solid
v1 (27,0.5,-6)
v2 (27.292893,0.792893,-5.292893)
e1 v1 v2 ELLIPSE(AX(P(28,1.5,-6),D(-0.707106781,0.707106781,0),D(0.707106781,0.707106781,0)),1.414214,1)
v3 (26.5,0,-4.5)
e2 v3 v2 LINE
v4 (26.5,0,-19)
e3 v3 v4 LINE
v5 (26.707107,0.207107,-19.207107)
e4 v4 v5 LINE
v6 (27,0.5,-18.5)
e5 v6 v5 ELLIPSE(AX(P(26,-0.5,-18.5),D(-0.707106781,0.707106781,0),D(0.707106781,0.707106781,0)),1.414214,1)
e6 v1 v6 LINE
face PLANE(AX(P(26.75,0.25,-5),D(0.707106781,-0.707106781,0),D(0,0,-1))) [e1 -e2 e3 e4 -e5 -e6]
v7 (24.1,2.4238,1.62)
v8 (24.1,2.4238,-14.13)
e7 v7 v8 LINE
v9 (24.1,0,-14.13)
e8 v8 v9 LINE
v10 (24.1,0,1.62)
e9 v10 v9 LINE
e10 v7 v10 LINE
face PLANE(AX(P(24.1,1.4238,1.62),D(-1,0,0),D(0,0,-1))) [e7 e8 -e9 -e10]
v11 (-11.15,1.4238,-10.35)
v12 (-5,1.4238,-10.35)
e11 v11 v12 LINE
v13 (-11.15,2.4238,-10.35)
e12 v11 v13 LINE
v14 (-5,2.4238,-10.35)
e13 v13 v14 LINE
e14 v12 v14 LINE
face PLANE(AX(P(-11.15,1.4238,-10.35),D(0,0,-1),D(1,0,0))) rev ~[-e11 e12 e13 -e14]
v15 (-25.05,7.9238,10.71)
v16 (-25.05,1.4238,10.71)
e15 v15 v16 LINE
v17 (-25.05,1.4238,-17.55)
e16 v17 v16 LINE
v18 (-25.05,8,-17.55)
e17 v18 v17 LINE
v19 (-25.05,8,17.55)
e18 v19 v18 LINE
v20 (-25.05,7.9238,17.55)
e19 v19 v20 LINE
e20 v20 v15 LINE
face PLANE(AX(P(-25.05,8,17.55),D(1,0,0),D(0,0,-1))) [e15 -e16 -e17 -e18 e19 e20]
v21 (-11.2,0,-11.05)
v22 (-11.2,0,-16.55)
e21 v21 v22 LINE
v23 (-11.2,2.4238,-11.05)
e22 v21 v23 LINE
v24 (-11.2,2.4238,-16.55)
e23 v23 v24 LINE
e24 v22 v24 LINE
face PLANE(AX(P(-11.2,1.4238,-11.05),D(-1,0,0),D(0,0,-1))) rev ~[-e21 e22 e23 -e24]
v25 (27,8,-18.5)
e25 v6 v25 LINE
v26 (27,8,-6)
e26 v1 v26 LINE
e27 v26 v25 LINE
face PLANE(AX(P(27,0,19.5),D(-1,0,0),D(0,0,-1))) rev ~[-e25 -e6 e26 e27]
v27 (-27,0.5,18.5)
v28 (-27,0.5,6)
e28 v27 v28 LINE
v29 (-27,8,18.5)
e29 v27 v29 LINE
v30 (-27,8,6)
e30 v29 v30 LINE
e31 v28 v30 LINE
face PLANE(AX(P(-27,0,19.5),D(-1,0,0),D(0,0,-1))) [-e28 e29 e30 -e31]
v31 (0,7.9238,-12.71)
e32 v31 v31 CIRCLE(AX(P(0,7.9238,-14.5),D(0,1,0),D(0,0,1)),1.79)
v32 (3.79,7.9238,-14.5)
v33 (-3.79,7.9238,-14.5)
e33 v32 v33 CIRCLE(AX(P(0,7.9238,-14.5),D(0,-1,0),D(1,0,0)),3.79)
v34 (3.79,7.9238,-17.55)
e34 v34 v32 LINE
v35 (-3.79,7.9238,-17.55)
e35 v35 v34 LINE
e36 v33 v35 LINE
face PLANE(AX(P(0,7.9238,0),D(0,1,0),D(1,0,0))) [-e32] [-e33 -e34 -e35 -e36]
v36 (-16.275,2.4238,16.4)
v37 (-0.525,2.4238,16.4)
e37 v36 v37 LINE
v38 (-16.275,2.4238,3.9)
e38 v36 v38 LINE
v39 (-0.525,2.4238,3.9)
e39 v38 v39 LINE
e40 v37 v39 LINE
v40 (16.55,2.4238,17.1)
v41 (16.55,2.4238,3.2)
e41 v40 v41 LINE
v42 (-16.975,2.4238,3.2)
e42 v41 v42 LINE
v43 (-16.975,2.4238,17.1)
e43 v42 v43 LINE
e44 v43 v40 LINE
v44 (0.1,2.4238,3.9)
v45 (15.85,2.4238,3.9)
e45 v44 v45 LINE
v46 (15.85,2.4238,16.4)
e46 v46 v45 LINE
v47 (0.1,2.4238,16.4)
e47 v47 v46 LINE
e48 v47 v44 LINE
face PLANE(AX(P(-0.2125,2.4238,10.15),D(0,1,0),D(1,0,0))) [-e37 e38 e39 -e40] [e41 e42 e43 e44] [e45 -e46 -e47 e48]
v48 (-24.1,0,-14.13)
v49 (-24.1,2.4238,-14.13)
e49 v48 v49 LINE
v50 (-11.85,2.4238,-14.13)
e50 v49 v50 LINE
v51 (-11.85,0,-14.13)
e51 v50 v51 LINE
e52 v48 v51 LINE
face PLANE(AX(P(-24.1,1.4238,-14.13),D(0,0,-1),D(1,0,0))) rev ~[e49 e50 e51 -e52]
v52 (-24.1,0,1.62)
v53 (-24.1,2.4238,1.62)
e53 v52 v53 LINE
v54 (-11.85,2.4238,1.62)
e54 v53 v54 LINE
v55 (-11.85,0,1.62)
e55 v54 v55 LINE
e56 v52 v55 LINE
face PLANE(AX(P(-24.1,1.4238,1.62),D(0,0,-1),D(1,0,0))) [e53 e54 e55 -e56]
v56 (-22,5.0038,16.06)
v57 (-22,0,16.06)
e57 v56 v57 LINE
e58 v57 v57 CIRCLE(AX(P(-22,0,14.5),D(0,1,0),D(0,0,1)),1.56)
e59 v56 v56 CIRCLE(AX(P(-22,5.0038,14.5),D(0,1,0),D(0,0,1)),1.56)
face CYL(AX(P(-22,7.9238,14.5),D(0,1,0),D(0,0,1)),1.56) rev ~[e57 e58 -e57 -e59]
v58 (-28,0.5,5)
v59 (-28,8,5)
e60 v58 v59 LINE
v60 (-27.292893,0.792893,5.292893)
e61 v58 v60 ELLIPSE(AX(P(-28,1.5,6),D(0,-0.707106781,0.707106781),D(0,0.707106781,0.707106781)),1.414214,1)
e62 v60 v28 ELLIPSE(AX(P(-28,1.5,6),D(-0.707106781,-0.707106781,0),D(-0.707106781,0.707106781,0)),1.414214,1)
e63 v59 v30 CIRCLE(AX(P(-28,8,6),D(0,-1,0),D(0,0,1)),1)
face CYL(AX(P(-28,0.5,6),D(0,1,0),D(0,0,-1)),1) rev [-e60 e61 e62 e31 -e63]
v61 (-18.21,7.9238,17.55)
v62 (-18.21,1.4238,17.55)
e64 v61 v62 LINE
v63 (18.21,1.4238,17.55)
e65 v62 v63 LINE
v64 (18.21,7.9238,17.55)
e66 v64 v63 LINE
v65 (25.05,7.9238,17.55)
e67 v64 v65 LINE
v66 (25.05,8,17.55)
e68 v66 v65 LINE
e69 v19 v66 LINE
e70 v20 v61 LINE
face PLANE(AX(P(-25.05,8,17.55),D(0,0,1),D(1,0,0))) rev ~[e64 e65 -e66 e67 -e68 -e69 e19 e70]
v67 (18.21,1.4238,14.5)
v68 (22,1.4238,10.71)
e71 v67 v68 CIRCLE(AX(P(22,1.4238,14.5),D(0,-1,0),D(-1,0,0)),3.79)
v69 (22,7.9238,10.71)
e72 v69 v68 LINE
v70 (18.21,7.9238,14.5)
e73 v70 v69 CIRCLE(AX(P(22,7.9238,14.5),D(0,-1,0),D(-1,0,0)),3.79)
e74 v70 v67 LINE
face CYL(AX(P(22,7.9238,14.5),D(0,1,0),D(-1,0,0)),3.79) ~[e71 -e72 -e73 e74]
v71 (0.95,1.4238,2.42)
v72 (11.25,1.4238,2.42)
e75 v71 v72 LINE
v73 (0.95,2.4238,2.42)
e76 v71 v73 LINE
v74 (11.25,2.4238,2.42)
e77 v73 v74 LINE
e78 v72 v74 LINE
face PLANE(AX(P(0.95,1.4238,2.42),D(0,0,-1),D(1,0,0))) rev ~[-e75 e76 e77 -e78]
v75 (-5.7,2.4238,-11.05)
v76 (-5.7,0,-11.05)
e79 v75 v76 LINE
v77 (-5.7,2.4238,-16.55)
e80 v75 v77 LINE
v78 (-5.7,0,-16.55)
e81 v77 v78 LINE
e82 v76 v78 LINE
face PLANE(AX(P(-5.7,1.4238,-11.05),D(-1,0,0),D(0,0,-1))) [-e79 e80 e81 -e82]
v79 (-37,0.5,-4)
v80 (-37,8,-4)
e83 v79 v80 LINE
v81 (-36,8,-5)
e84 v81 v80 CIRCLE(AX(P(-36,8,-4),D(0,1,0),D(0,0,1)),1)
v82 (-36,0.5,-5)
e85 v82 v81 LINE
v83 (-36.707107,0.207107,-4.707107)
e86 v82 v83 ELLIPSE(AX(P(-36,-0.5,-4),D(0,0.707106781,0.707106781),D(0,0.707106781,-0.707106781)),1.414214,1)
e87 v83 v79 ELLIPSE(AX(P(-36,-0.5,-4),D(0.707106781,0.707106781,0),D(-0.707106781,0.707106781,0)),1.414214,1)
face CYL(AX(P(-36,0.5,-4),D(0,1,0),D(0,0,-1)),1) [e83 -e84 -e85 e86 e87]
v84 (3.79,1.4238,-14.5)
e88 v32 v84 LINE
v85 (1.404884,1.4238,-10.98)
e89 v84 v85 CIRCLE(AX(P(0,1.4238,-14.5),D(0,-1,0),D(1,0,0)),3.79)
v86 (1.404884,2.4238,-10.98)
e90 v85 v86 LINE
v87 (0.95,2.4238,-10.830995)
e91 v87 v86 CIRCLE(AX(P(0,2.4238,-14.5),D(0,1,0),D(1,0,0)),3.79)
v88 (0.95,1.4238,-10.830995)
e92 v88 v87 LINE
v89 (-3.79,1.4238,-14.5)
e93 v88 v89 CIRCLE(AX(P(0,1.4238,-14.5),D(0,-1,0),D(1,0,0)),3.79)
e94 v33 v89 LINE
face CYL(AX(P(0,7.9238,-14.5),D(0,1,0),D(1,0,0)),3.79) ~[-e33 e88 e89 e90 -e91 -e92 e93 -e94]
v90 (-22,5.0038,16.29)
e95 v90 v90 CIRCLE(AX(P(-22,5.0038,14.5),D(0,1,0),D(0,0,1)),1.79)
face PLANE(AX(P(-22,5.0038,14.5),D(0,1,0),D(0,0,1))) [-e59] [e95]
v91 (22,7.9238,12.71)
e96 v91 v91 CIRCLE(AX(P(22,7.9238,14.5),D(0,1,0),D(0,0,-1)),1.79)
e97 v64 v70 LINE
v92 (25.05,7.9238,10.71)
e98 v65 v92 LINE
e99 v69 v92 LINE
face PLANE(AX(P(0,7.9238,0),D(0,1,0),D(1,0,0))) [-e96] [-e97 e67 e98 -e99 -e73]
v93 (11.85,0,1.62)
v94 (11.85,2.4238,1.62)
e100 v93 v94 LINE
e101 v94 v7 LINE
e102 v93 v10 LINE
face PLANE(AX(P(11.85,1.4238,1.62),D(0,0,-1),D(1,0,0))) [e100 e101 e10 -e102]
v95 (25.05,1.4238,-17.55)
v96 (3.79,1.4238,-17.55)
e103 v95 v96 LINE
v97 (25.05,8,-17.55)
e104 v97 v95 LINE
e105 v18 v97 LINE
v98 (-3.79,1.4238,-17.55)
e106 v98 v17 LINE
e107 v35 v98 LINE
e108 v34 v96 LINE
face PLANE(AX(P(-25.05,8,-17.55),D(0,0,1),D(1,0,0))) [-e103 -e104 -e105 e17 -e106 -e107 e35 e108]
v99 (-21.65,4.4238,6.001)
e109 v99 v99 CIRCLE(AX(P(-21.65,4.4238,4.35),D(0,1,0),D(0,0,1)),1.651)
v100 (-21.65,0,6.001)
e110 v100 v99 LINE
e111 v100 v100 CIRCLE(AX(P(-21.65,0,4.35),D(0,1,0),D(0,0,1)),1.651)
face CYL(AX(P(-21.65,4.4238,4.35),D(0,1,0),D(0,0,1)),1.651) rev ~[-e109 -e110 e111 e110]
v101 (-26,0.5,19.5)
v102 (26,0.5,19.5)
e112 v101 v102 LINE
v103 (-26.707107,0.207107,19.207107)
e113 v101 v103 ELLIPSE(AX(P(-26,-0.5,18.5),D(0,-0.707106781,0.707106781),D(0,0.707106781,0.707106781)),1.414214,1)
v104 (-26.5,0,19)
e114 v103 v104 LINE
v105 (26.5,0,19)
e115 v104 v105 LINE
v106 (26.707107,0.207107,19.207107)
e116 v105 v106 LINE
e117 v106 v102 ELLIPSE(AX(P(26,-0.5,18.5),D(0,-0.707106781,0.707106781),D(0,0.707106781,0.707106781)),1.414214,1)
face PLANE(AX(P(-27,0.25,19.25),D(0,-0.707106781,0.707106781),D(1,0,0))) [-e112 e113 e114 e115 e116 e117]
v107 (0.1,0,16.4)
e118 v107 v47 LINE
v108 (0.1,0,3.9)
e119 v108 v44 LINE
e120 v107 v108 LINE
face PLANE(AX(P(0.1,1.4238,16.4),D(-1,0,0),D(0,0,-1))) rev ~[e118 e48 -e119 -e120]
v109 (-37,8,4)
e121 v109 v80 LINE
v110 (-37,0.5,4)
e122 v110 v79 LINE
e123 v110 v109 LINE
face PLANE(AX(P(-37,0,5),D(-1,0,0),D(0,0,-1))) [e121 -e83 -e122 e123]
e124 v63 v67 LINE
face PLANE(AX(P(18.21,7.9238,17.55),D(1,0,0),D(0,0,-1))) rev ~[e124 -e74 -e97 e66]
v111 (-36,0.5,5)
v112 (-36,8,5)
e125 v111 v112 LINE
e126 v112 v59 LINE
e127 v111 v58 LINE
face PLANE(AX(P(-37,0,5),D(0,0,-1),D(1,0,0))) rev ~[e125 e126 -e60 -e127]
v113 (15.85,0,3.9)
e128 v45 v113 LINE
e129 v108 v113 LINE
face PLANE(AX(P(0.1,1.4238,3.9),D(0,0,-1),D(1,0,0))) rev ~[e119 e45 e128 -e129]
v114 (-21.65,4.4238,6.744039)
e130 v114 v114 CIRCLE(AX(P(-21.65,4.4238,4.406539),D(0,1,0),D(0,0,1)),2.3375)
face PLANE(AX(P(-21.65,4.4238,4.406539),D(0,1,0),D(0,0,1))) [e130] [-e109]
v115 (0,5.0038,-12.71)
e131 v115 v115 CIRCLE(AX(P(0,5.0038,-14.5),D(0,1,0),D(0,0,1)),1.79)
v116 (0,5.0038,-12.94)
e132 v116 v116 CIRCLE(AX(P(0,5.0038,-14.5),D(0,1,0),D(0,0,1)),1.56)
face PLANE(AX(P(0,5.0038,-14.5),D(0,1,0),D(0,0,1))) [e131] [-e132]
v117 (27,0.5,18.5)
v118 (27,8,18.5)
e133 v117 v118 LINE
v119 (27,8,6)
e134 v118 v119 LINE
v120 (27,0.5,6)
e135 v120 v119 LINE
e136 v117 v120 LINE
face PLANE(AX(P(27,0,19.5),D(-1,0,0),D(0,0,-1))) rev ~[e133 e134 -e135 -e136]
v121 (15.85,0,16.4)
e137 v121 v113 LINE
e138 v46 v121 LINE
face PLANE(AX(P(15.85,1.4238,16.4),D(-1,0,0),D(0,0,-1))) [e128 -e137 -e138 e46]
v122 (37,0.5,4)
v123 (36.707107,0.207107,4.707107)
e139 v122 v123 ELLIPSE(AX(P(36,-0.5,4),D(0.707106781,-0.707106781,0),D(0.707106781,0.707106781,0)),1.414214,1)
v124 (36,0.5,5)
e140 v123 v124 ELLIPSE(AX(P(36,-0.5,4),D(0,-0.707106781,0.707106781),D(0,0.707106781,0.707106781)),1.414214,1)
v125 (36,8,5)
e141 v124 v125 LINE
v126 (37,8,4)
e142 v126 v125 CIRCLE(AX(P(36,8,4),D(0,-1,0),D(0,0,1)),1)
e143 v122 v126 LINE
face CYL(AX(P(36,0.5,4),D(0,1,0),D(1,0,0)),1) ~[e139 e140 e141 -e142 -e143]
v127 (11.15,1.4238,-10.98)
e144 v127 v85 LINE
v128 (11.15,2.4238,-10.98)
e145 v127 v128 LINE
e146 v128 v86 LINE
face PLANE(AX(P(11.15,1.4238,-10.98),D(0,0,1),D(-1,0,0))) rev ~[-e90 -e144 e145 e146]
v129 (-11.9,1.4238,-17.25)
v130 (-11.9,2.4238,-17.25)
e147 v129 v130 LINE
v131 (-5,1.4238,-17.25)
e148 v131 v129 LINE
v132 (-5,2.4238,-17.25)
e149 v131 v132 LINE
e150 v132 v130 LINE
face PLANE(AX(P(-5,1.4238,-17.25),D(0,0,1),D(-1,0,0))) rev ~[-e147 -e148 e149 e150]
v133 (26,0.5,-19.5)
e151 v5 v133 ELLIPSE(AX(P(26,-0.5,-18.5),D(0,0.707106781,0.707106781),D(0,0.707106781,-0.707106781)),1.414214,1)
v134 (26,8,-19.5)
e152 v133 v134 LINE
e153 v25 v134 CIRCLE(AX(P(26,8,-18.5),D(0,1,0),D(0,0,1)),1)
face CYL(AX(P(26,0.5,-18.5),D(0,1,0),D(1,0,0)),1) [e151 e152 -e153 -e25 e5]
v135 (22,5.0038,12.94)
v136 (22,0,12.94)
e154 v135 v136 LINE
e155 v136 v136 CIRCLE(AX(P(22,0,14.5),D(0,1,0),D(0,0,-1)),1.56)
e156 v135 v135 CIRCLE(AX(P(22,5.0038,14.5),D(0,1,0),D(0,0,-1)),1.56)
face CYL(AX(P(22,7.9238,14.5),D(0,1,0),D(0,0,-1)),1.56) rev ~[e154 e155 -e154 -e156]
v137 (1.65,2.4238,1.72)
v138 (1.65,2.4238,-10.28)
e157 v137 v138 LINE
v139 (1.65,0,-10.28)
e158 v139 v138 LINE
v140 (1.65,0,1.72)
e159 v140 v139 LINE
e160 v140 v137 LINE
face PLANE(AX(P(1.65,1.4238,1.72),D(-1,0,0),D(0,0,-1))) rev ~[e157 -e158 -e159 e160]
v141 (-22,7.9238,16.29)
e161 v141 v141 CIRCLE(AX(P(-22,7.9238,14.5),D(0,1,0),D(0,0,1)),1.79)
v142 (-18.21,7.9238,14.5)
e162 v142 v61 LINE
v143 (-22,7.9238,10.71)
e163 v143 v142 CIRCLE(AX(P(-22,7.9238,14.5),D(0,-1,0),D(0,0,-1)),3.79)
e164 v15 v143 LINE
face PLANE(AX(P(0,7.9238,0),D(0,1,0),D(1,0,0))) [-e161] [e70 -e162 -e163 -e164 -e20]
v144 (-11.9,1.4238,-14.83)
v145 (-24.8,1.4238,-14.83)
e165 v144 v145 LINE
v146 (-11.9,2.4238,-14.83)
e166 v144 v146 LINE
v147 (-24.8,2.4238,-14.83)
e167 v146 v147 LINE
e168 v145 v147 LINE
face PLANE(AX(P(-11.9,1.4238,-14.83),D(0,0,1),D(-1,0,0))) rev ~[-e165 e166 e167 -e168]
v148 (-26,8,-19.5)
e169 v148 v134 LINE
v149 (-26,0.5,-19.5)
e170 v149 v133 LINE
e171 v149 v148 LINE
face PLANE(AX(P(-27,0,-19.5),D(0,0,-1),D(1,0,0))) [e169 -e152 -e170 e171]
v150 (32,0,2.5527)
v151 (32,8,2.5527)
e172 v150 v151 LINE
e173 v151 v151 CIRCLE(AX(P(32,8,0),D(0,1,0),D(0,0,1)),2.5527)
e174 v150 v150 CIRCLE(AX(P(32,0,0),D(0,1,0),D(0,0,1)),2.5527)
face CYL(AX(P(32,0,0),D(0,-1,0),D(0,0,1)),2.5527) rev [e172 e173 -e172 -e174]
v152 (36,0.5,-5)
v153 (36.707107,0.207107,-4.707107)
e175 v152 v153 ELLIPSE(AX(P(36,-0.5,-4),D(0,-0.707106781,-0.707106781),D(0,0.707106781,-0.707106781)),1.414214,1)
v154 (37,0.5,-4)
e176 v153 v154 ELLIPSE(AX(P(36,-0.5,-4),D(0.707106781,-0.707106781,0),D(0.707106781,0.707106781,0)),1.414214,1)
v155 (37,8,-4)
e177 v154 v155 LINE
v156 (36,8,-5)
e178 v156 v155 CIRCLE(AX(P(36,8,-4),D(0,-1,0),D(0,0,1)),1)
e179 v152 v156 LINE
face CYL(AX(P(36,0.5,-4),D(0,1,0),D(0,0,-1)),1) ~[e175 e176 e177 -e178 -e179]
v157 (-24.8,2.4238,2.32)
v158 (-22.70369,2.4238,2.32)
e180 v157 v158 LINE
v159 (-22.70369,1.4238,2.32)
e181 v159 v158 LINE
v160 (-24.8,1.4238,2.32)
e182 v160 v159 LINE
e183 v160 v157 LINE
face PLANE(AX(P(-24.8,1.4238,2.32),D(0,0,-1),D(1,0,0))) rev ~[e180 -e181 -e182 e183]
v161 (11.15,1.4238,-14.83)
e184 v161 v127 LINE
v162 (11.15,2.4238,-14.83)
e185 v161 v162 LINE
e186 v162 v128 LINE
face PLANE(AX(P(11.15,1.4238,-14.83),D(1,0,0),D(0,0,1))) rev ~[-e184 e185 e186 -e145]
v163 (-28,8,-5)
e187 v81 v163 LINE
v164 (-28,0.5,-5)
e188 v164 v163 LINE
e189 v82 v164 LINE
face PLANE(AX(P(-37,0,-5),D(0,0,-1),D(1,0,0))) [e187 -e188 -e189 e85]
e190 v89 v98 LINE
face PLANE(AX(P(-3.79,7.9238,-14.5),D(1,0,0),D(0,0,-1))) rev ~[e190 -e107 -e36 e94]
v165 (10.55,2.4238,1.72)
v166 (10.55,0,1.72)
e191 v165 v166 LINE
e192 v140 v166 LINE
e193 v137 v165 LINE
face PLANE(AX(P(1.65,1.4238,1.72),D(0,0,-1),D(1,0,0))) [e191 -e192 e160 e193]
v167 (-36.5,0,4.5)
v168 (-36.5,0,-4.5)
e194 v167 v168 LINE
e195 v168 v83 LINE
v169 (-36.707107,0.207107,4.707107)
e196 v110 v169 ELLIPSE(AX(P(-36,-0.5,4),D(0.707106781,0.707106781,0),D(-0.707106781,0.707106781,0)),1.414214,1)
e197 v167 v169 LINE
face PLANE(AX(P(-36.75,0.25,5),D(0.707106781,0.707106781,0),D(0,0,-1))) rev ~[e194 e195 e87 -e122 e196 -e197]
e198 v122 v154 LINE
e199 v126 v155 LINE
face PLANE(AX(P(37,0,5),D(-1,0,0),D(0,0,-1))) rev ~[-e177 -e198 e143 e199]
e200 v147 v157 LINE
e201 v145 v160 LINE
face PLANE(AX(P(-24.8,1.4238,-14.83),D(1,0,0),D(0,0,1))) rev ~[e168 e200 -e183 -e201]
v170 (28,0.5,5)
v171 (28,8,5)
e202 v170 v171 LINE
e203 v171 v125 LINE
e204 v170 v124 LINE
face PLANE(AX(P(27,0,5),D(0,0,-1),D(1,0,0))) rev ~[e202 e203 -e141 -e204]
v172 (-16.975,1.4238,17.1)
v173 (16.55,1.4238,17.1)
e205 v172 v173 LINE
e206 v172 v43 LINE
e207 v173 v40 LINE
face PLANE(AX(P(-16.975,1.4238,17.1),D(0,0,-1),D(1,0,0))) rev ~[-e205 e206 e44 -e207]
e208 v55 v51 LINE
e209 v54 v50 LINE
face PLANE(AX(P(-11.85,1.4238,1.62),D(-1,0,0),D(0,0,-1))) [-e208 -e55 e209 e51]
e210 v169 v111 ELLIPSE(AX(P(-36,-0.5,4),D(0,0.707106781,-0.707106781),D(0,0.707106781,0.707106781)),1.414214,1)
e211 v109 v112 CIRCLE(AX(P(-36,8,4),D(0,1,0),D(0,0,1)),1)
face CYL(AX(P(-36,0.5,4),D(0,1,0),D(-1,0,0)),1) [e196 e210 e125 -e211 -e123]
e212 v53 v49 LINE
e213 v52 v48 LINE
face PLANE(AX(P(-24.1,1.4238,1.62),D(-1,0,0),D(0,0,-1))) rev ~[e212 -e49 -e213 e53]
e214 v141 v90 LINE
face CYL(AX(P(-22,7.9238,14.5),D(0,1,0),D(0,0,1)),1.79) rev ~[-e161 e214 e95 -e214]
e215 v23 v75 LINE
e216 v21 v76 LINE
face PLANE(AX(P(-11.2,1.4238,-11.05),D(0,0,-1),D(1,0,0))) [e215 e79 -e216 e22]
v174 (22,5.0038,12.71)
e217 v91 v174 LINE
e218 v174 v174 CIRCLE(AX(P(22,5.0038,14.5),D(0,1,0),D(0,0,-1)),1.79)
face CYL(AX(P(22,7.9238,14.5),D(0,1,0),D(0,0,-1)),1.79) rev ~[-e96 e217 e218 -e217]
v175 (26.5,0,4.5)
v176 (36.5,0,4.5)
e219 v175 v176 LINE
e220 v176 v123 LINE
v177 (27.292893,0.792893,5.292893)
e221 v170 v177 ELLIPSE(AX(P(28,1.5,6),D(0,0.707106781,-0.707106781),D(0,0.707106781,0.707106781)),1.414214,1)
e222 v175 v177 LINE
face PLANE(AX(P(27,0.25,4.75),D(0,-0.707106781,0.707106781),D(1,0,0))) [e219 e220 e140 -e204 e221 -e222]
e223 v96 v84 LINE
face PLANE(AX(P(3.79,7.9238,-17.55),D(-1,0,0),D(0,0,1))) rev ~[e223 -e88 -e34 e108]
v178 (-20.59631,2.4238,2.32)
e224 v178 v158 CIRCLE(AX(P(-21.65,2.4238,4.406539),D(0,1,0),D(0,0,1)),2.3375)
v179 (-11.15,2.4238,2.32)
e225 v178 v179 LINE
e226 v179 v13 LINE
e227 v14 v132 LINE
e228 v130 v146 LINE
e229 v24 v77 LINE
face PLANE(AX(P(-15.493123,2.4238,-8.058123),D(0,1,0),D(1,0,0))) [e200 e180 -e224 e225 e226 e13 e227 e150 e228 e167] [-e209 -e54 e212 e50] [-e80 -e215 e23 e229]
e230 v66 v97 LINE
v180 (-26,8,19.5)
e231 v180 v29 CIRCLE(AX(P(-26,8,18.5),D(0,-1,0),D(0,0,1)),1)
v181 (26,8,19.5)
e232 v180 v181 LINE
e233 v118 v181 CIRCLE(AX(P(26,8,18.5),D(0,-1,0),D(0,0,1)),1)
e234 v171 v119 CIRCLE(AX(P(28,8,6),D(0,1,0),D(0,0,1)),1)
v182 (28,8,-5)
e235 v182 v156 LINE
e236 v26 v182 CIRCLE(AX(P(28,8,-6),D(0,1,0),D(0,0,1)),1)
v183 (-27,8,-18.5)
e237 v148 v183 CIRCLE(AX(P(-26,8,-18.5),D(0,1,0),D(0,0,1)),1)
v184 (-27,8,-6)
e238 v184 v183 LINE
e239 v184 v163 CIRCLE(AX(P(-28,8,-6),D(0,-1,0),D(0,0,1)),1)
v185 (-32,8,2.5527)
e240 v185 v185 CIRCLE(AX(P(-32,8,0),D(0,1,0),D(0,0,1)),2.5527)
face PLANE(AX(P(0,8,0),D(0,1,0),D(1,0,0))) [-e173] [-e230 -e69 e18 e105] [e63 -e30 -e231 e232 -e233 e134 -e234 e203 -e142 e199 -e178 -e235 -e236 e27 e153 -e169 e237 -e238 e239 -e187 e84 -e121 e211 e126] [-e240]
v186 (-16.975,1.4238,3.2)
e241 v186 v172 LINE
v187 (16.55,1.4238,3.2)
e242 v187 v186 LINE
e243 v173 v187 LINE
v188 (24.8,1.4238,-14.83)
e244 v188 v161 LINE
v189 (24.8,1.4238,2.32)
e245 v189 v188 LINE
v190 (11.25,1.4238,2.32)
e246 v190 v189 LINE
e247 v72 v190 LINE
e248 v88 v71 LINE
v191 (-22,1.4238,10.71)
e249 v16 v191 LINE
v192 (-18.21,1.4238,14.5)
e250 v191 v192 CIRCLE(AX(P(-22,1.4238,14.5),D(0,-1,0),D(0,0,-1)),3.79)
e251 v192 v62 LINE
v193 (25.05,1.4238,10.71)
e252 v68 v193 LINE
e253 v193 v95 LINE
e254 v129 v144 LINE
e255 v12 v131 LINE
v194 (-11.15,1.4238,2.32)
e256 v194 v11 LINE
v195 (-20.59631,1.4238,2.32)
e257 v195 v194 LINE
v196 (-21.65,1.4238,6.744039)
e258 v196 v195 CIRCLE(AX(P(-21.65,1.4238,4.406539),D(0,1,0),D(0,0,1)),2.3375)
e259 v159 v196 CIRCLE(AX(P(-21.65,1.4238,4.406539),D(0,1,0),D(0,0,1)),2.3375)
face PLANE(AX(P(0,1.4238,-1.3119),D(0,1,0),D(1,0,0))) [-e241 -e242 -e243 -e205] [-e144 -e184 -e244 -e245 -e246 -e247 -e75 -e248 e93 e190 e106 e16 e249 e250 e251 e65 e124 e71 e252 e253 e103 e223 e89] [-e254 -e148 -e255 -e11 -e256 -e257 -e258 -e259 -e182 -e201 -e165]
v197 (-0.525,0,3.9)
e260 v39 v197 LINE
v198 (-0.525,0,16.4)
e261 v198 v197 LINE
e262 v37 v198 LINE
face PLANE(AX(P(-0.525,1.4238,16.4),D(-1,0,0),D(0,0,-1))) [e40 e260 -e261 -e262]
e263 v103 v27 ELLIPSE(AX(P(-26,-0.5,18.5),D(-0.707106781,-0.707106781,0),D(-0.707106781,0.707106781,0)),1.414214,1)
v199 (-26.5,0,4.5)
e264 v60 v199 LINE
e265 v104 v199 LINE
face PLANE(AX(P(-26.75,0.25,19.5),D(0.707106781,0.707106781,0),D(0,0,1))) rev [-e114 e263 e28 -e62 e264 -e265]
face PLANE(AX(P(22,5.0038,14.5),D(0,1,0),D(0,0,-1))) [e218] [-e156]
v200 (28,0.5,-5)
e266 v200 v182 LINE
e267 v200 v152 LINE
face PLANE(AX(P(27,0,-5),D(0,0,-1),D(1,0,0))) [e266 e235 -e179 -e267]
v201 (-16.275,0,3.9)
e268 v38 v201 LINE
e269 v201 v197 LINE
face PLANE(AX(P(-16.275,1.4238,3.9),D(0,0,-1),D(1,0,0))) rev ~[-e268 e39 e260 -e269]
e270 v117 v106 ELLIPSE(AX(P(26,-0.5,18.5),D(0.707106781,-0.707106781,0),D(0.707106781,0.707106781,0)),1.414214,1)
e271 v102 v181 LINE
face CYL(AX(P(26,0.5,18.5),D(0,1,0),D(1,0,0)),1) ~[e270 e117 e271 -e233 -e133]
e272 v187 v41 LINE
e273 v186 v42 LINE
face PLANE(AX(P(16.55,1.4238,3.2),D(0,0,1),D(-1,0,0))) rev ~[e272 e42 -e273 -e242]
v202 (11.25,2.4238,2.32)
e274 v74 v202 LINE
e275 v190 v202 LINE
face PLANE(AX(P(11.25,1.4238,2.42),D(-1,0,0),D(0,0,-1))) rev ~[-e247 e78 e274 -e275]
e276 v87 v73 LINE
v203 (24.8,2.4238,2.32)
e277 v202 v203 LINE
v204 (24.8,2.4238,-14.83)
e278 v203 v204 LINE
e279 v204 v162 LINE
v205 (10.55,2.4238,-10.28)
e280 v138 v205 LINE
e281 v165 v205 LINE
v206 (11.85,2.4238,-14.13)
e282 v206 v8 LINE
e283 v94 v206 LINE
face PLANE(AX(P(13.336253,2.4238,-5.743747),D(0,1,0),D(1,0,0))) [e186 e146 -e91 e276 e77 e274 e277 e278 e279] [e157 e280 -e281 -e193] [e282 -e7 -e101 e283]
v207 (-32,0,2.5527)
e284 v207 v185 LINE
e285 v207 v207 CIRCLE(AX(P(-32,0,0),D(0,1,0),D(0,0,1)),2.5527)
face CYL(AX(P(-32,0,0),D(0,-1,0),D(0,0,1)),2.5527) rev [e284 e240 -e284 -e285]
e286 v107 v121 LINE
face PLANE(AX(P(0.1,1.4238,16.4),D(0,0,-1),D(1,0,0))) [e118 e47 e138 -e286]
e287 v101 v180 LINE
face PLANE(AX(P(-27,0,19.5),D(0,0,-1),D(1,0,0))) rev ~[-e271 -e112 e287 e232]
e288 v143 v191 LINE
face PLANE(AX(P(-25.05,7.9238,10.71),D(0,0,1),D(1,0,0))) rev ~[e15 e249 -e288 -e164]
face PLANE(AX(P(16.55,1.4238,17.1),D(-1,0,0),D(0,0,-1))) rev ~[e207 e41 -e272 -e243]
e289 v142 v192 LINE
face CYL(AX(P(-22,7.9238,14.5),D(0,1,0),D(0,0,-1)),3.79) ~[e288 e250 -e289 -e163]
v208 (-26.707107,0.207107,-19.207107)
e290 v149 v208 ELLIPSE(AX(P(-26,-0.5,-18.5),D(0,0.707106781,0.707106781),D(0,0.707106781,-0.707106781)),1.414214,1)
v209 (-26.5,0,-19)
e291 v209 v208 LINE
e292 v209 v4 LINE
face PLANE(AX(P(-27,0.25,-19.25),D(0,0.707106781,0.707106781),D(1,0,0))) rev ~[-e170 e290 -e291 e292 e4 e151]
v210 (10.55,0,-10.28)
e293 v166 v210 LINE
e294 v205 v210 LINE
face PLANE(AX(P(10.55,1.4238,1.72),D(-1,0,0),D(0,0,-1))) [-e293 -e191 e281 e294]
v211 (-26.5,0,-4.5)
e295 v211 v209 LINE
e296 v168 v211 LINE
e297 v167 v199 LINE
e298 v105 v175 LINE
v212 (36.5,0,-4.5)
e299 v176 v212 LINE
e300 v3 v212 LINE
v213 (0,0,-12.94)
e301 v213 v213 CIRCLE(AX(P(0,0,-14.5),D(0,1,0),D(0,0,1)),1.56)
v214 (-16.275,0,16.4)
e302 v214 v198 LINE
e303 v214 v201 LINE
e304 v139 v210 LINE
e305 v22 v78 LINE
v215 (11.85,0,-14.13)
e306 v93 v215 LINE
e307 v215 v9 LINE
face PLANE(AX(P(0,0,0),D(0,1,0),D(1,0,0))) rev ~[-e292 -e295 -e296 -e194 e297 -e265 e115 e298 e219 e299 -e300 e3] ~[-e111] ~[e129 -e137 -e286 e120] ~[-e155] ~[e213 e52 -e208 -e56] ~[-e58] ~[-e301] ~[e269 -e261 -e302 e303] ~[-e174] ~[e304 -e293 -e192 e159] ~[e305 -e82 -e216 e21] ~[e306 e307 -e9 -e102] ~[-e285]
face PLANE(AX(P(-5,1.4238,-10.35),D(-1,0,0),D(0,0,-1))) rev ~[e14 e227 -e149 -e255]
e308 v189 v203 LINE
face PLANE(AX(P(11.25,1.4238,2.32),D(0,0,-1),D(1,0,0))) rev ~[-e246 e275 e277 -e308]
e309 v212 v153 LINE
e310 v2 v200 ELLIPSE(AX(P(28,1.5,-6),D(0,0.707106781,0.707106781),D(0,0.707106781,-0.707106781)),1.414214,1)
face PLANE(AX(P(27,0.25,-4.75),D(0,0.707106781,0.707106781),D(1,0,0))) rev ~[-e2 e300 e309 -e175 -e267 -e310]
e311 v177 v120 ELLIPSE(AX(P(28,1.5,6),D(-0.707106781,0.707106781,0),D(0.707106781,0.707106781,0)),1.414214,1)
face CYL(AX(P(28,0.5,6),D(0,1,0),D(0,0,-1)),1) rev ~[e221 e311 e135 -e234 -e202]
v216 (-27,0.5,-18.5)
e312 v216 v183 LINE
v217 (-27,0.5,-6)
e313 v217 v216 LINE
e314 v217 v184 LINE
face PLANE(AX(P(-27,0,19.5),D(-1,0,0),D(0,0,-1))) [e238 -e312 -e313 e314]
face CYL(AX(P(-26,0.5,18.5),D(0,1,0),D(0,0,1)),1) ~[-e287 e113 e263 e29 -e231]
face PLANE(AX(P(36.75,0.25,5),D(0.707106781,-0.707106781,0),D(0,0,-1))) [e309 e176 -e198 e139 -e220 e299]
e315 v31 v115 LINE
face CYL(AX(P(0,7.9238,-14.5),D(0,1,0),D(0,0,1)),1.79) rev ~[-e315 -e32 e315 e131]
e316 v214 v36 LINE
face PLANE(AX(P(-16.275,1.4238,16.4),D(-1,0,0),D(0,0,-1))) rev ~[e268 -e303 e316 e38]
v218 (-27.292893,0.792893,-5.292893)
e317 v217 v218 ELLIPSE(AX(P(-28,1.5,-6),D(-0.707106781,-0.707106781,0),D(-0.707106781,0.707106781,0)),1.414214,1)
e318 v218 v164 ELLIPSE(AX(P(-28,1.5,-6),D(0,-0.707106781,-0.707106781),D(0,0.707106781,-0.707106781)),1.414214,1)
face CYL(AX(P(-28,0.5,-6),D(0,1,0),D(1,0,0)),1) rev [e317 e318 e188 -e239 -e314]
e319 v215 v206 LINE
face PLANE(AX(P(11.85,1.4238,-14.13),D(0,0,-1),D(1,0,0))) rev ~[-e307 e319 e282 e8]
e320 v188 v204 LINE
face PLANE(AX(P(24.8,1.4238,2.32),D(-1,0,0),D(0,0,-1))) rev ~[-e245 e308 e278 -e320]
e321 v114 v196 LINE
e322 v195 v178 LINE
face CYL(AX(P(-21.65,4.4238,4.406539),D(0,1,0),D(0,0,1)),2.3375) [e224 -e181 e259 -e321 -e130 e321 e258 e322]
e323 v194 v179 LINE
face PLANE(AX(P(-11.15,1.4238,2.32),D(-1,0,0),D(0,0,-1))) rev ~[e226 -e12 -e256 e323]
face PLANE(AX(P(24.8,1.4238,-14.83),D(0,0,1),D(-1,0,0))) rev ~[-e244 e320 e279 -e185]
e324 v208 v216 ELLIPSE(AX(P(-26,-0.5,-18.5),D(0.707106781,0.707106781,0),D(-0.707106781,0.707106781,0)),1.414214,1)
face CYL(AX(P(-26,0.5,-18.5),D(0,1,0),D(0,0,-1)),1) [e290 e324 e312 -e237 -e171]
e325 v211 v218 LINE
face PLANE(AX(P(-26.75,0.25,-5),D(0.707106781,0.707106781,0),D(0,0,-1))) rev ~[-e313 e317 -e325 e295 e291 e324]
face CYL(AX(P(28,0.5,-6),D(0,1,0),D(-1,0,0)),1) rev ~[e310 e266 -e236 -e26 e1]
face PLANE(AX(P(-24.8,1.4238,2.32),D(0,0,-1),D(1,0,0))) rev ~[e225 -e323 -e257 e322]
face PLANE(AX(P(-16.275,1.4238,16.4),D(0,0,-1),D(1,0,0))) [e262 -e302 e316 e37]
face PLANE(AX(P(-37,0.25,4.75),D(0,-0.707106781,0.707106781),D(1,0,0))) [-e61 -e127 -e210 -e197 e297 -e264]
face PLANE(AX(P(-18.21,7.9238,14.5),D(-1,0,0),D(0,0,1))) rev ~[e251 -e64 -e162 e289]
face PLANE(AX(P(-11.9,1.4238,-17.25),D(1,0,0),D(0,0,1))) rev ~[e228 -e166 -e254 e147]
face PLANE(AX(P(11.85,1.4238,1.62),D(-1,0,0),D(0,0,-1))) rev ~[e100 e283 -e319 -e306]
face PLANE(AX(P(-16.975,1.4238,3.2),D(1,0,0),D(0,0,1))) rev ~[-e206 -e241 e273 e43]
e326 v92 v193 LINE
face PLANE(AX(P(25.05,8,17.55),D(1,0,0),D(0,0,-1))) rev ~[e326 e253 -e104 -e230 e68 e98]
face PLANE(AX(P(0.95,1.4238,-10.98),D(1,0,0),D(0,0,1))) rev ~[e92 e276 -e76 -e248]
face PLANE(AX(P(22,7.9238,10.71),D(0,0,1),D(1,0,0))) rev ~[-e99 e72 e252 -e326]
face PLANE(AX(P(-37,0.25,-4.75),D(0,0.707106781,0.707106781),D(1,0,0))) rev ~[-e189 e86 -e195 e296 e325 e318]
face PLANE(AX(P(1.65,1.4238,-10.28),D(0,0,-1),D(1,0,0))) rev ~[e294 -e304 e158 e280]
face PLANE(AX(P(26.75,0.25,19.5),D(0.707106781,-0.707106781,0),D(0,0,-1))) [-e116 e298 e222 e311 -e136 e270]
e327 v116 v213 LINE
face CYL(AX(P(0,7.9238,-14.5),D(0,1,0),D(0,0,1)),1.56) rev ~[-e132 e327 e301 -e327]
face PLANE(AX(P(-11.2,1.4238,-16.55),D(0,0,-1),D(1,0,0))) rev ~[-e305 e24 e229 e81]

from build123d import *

# Parameters (mm, degrees)
SKETCH1_W           = 54
SKETCH1_H           = 39
SKETCH1_W_2         = 10
SKETCH1_H_2         = 10
SKETCH1_R           = 2.5527
BOSS_EXTRUDE1_DEPTH = 8
SKETCH2_W           = 50.1
SKETCH2_H           = 35.1
CUT_EXTRUDE1_DEPTH  = 0.0762
CUT_EXTRUDE2_DEPTH  = 6.5
SKETCH4_R           = 1.56
CUT_EXTRUDE3_DEPTH  = 43.568023286
SKETCH5_R           = 1.79
CUT_EXTRUDE4_DEPTH  = 2.92
SKETCH6_W           = 12.25
SKETCH6_H           = 15.75
SKETCH6_W_2         = 15.75
SKETCH6_H_2         = 12.5
SKETCH6_W_3         = 5.5
SKETCH6_H_3         = 5.5
CUT_EXTRUDE5_DEPTH  = 43.337883821
SKETCH7_W           = 8.9
SKETCH7_H           = 12
CUT_EXTRUDE6_DEPTH  = 43.337883821
CHAMFER1_SIZE       = 0.5
SKETCH9_R           = 1.651
CUT_EXTRUDE8_DEPTH  = 43.337883821
BOSS_EXTRUDE2_START = 3
SKETCH10_R          = 2.3375
SKETCH10_R_2        = 1.651
BOSS_EXTRUDE2_DEPTH = 3
SKETCH11_W          = 5.5
SKETCH11_H          = 5.5
SKETCH11_W_2        = 12.25
SKETCH11_H_2        = 15.75
SKETCH11_W_3        = 8.9
SKETCH11_H_3        = 12
SKETCH11_W_4        = 15.75
SKETCH11_H_4        = 12.5
BOSS_EXTRUDE3_DEPTH = 1
FILLET1_R           = 1


with BuildPart() as part:
    # Sketch1 → Boss-Extrude1 (new body)
    # profile 1 of 3: a face of its own
    with BuildSketch(Plane(origin=(0, 0, 0), x_dir=(1, 0, 0), z_dir=(0, 1, 0))):
        Rectangle(SKETCH1_W, SKETCH1_H)
    # profile 2 of 3: a face of its own
    with BuildSketch(Plane(origin=(0, 0, 0), x_dir=(1, 0, 0), z_dir=(0, 1, 0))):
        with Locations((32, 0)):
            Rectangle(SKETCH1_W_2, SKETCH1_H_2)
        with Locations(Location((32, 0, 0), (0, 0, 270))):
            Circle(SKETCH1_R, mode=Mode.SUBTRACT)
    # profile 3 of 3: a face of its own
    with BuildSketch(Plane(origin=(0, 0, 0), x_dir=(1, 0, 0), z_dir=(0, 1, 0))):
        with Locations((-32, 0)):
            Rectangle(SKETCH1_W_2, SKETCH1_H_2)
        with Locations(Location((-32, 0, 0), (0, 0, 270))):
            Circle(SKETCH1_R, mode=Mode.SUBTRACT)
    extrude(amount=BOSS_EXTRUDE1_DEPTH)

    # Sketch2 → Cut-Extrude1 (cut)
    with BuildSketch(Plane(origin=(0, 8, 0), x_dir=(1, 0, 0), z_dir=(0, 1, 0))):
        Rectangle(SKETCH2_W, SKETCH2_H)
    extrude(amount=-CUT_EXTRUDE1_DEPTH, mode=Mode.SUBTRACT)

    # Sketch3 → Cut-Extrude2 (cut)
    with BuildSketch(Plane(origin=(0, 7.9238, 0), x_dir=(1, 0, 0), z_dir=(0, 1, 0))):
        with BuildLine():
            Line((-3.79, 14.5), (-3.79, 17.55))
            Line((-3.79, 17.55), (-25.05, 17.55))
            Line((-25.05, 17.55), (-25.05, -10.71))
            Line((-25.05, -10.71), (-22, -10.71))
            ThreePointArc((-22, -10.71), (-19.320065299, -11.820065299), (-18.21, -14.5))
            Line((-18.21, -14.5), (-18.21, -17.55))
            Line((-18.21, -17.55), (18.21, -17.55))
            Line((18.21, -17.55), (18.21, -14.5))
            ThreePointArc((18.21, -14.5), (19.320065299, -11.820065299), (22, -10.71))
            Line((22, -10.71), (25.05, -10.71))
            Line((25.05, -10.71), (25.05, 17.55))
            Line((25.05, 17.55), (3.79, 17.55))
            Line((3.79, 17.55), (3.79, 14.5))
            ThreePointArc((3.79, 14.5), (0, 10.71), (-3.79, 14.5))
        make_face()
    extrude(amount=-CUT_EXTRUDE2_DEPTH, mode=Mode.SUBTRACT)

    # Sketch4 → Cut-Extrude3 (cut, through all)
    with BuildSketch(Plane(origin=(0, 7.9238, 0), x_dir=(1, 0, 0), z_dir=(0, 1, 0))):
        with Locations(Location((0, 14.5, 0), (0, 0, 270))):
            Circle(SKETCH4_R)
        with Locations(Location((-22, -14.5, 0), (0, 0, 270))):
            Circle(SKETCH4_R)
        with Locations(Location((22, -14.5, 0), (0, 0, 90))):
            Circle(SKETCH4_R)
    extrude(amount=-CUT_EXTRUDE3_DEPTH, mode=Mode.SUBTRACT)

    # Sketch5 → Cut-Extrude4 (cut)
    with BuildSketch(Plane(origin=(0, 7.9238, 0), x_dir=(1, 0, 0), z_dir=(0, 1, 0))):
        with Locations(Location((0, 14.5, 0), (0, 0, 270))):
            Circle(SKETCH5_R)
        with Locations(Location((-22, -14.5, 0), (0, 0, 270))):
            Circle(SKETCH5_R)
        with Locations(Location((22, -14.5, 0), (0, 0, 90))):
            Circle(SKETCH5_R)
    extrude(amount=-CUT_EXTRUDE4_DEPTH, mode=Mode.SUBTRACT)

    # Sketch6 → Cut-Extrude5 (cut, through all)
    with BuildSketch(Plane(origin=(0, 1.4238, 0), x_dir=(1, 0, 0), z_dir=(0, 1, 0))):
        with Locations((17.975, 6.255)):
            Rectangle(SKETCH6_W, SKETCH6_H)
        with Locations((7.975, -10.15)):
            Rectangle(SKETCH6_W_2, SKETCH6_H_2)
        with Locations((-17.975, 6.255)):
            Rectangle(SKETCH6_W, SKETCH6_H)
        with Locations((-8.4, -10.15)):
            Rectangle(SKETCH6_W_2, SKETCH6_H_2)
        with Locations((-8.45, 13.8)):
            Rectangle(SKETCH6_W_3, SKETCH6_H_3)
    extrude(amount=-CUT_EXTRUDE5_DEPTH, mode=Mode.SUBTRACT)

    # Sketch7 → Cut-Extrude6 (cut, through all)
    with BuildSketch(Plane(origin=(0, 1.4238, 0), x_dir=(1, 0, 0), z_dir=(0, 1, 0))):
        with Locations((6.1, 4.28)):
            Rectangle(SKETCH7_W, SKETCH7_H)
    extrude(amount=-CUT_EXTRUDE6_DEPTH, mode=Mode.SUBTRACT)

    # Chamfer1
    chamfer1_edges = [part.edges().sort_by_distance(p)[0] for p in [
        (-27, 0, 12.25),
        (-32, 0, 5),
        (-37, 0, 0),
        (-32, 0, -5),
        (-27, 0, -12.25),
        (0, 0, -19.5),
        (27, 0, -12.25),
        (32, 0, -5),
        (37, 0, 0),
        (32, 0, 5),
        (27, 0, 12.25),
        (0, 0, 19.5),
    ]]
    chamfer(chamfer1_edges, length=CHAMFER1_SIZE)

    # Sketch9 → Cut-Extrude8 (cut, through all)
    with BuildSketch(Plane(origin=(0, 1.4238, 0), x_dir=(1, 0, 0), z_dir=(0, 1, 0))):
        with Locations(Location((-21.65, -4.35, 0), (0, 0, 270))):
            Circle(SKETCH9_R)
    extrude(amount=-CUT_EXTRUDE8_DEPTH, mode=Mode.SUBTRACT)

    # Sketch10 → Boss-Extrude2 (add)
    with BuildSketch(Plane(origin=(0, 1.4238, 0), x_dir=(1, 0, 0), z_dir=(0, 1, 0)).offset(BOSS_EXTRUDE2_START)):
        with Locations(Location((-21.65, -4.406538836, 0), (0, 0, 270))):
            Circle(SKETCH10_R)
        with Locations(Location((-21.65, -4.35, 0), (0, 0, 270))):
            Circle(SKETCH10_R_2, mode=Mode.SUBTRACT)
    extrude(amount=-BOSS_EXTRUDE2_DEPTH)

    # Sketch11 → Boss-Extrude3 (add)
    # profile 1 of 3: a face of its own
    with BuildSketch(Plane(origin=(0, 1.4238, 0), x_dir=(1, 0, 0), z_dir=(0, 1, 0))):
        Polygon((-11.15, -2.32), (-11.15, 10.35), (-5, 10.35), (-5, 17.25), (-11.9, 17.25), (-11.9, 14.83), (-24.8, 14.83), (-24.8, -2.32), align=None)
        with Locations((-8.45, 13.8)):
            Rectangle(SKETCH11_W, SKETCH11_H, mode=Mode.SUBTRACT)
        with Locations((-17.975, 6.255)):
            Rectangle(SKETCH11_W_2, SKETCH11_H_2, mode=Mode.SUBTRACT)
    # profile 2 of 3: a face of its own
    with BuildSketch(Plane(origin=(0, 1.4238, 0), x_dir=(1, 0, 0), z_dir=(0, 1, 0))):
        Polygon((0.95, 10.98), (0.95, -2.42), (11.25, -2.42), (11.25, -2.32), (24.8, -2.32), (24.8, 14.83), (11.15, 14.83), (11.15, 10.98), align=None)
        with Locations((17.975, 6.255)):
            Rectangle(SKETCH11_W_2, SKETCH11_H_2, mode=Mode.SUBTRACT)
        with Locations((6.1, 4.28)):
            Rectangle(SKETCH11_W_3, SKETCH11_H_3, mode=Mode.SUBTRACT)
    # profile 3 of 3: a face of its own
    with BuildSketch(Plane(origin=(0, 1.4238, 0), x_dir=(1, 0, 0), z_dir=(0, 1, 0))):
        Polygon((16.55, -3.2), (0.175, -3.2), (-16.975, -3.2), (-16.975, -17.1), (0.175, -17.1), (16.55, -17.1), align=None)
        with Locations((7.975, -10.15)):
            Rectangle(SKETCH11_W_4, SKETCH11_H_4, mode=Mode.SUBTRACT)
        with Locations((-8.4, -10.15)):
            Rectangle(SKETCH11_W_4, SKETCH11_H_4, mode=Mode.SUBTRACT)
    extrude(amount=BOSS_EXTRUDE3_DEPTH)

    # Fillet1
    fillet1_edges = [part.edges().sort_by_distance(p)[0] for p in [
        (-27, 4.25, 19.5),
        (-27, 4.25, 5),
        (-37, 4.25, 5),
        (-37, 4.25, -5),
        (-27, 4.25, -5),
        (-27, 4.25, -19.5),
        (27, 4.25, -19.5),
        (27, 4.25, -5),
        (37, 4.25, -5),
        (37, 4.25, 5),
        (27, 4.25, 5),
        (27, 4.25, 19.5),
    ]]
    fillet(fillet1_edges, radius=FILLET1_R)


solid = part.part
